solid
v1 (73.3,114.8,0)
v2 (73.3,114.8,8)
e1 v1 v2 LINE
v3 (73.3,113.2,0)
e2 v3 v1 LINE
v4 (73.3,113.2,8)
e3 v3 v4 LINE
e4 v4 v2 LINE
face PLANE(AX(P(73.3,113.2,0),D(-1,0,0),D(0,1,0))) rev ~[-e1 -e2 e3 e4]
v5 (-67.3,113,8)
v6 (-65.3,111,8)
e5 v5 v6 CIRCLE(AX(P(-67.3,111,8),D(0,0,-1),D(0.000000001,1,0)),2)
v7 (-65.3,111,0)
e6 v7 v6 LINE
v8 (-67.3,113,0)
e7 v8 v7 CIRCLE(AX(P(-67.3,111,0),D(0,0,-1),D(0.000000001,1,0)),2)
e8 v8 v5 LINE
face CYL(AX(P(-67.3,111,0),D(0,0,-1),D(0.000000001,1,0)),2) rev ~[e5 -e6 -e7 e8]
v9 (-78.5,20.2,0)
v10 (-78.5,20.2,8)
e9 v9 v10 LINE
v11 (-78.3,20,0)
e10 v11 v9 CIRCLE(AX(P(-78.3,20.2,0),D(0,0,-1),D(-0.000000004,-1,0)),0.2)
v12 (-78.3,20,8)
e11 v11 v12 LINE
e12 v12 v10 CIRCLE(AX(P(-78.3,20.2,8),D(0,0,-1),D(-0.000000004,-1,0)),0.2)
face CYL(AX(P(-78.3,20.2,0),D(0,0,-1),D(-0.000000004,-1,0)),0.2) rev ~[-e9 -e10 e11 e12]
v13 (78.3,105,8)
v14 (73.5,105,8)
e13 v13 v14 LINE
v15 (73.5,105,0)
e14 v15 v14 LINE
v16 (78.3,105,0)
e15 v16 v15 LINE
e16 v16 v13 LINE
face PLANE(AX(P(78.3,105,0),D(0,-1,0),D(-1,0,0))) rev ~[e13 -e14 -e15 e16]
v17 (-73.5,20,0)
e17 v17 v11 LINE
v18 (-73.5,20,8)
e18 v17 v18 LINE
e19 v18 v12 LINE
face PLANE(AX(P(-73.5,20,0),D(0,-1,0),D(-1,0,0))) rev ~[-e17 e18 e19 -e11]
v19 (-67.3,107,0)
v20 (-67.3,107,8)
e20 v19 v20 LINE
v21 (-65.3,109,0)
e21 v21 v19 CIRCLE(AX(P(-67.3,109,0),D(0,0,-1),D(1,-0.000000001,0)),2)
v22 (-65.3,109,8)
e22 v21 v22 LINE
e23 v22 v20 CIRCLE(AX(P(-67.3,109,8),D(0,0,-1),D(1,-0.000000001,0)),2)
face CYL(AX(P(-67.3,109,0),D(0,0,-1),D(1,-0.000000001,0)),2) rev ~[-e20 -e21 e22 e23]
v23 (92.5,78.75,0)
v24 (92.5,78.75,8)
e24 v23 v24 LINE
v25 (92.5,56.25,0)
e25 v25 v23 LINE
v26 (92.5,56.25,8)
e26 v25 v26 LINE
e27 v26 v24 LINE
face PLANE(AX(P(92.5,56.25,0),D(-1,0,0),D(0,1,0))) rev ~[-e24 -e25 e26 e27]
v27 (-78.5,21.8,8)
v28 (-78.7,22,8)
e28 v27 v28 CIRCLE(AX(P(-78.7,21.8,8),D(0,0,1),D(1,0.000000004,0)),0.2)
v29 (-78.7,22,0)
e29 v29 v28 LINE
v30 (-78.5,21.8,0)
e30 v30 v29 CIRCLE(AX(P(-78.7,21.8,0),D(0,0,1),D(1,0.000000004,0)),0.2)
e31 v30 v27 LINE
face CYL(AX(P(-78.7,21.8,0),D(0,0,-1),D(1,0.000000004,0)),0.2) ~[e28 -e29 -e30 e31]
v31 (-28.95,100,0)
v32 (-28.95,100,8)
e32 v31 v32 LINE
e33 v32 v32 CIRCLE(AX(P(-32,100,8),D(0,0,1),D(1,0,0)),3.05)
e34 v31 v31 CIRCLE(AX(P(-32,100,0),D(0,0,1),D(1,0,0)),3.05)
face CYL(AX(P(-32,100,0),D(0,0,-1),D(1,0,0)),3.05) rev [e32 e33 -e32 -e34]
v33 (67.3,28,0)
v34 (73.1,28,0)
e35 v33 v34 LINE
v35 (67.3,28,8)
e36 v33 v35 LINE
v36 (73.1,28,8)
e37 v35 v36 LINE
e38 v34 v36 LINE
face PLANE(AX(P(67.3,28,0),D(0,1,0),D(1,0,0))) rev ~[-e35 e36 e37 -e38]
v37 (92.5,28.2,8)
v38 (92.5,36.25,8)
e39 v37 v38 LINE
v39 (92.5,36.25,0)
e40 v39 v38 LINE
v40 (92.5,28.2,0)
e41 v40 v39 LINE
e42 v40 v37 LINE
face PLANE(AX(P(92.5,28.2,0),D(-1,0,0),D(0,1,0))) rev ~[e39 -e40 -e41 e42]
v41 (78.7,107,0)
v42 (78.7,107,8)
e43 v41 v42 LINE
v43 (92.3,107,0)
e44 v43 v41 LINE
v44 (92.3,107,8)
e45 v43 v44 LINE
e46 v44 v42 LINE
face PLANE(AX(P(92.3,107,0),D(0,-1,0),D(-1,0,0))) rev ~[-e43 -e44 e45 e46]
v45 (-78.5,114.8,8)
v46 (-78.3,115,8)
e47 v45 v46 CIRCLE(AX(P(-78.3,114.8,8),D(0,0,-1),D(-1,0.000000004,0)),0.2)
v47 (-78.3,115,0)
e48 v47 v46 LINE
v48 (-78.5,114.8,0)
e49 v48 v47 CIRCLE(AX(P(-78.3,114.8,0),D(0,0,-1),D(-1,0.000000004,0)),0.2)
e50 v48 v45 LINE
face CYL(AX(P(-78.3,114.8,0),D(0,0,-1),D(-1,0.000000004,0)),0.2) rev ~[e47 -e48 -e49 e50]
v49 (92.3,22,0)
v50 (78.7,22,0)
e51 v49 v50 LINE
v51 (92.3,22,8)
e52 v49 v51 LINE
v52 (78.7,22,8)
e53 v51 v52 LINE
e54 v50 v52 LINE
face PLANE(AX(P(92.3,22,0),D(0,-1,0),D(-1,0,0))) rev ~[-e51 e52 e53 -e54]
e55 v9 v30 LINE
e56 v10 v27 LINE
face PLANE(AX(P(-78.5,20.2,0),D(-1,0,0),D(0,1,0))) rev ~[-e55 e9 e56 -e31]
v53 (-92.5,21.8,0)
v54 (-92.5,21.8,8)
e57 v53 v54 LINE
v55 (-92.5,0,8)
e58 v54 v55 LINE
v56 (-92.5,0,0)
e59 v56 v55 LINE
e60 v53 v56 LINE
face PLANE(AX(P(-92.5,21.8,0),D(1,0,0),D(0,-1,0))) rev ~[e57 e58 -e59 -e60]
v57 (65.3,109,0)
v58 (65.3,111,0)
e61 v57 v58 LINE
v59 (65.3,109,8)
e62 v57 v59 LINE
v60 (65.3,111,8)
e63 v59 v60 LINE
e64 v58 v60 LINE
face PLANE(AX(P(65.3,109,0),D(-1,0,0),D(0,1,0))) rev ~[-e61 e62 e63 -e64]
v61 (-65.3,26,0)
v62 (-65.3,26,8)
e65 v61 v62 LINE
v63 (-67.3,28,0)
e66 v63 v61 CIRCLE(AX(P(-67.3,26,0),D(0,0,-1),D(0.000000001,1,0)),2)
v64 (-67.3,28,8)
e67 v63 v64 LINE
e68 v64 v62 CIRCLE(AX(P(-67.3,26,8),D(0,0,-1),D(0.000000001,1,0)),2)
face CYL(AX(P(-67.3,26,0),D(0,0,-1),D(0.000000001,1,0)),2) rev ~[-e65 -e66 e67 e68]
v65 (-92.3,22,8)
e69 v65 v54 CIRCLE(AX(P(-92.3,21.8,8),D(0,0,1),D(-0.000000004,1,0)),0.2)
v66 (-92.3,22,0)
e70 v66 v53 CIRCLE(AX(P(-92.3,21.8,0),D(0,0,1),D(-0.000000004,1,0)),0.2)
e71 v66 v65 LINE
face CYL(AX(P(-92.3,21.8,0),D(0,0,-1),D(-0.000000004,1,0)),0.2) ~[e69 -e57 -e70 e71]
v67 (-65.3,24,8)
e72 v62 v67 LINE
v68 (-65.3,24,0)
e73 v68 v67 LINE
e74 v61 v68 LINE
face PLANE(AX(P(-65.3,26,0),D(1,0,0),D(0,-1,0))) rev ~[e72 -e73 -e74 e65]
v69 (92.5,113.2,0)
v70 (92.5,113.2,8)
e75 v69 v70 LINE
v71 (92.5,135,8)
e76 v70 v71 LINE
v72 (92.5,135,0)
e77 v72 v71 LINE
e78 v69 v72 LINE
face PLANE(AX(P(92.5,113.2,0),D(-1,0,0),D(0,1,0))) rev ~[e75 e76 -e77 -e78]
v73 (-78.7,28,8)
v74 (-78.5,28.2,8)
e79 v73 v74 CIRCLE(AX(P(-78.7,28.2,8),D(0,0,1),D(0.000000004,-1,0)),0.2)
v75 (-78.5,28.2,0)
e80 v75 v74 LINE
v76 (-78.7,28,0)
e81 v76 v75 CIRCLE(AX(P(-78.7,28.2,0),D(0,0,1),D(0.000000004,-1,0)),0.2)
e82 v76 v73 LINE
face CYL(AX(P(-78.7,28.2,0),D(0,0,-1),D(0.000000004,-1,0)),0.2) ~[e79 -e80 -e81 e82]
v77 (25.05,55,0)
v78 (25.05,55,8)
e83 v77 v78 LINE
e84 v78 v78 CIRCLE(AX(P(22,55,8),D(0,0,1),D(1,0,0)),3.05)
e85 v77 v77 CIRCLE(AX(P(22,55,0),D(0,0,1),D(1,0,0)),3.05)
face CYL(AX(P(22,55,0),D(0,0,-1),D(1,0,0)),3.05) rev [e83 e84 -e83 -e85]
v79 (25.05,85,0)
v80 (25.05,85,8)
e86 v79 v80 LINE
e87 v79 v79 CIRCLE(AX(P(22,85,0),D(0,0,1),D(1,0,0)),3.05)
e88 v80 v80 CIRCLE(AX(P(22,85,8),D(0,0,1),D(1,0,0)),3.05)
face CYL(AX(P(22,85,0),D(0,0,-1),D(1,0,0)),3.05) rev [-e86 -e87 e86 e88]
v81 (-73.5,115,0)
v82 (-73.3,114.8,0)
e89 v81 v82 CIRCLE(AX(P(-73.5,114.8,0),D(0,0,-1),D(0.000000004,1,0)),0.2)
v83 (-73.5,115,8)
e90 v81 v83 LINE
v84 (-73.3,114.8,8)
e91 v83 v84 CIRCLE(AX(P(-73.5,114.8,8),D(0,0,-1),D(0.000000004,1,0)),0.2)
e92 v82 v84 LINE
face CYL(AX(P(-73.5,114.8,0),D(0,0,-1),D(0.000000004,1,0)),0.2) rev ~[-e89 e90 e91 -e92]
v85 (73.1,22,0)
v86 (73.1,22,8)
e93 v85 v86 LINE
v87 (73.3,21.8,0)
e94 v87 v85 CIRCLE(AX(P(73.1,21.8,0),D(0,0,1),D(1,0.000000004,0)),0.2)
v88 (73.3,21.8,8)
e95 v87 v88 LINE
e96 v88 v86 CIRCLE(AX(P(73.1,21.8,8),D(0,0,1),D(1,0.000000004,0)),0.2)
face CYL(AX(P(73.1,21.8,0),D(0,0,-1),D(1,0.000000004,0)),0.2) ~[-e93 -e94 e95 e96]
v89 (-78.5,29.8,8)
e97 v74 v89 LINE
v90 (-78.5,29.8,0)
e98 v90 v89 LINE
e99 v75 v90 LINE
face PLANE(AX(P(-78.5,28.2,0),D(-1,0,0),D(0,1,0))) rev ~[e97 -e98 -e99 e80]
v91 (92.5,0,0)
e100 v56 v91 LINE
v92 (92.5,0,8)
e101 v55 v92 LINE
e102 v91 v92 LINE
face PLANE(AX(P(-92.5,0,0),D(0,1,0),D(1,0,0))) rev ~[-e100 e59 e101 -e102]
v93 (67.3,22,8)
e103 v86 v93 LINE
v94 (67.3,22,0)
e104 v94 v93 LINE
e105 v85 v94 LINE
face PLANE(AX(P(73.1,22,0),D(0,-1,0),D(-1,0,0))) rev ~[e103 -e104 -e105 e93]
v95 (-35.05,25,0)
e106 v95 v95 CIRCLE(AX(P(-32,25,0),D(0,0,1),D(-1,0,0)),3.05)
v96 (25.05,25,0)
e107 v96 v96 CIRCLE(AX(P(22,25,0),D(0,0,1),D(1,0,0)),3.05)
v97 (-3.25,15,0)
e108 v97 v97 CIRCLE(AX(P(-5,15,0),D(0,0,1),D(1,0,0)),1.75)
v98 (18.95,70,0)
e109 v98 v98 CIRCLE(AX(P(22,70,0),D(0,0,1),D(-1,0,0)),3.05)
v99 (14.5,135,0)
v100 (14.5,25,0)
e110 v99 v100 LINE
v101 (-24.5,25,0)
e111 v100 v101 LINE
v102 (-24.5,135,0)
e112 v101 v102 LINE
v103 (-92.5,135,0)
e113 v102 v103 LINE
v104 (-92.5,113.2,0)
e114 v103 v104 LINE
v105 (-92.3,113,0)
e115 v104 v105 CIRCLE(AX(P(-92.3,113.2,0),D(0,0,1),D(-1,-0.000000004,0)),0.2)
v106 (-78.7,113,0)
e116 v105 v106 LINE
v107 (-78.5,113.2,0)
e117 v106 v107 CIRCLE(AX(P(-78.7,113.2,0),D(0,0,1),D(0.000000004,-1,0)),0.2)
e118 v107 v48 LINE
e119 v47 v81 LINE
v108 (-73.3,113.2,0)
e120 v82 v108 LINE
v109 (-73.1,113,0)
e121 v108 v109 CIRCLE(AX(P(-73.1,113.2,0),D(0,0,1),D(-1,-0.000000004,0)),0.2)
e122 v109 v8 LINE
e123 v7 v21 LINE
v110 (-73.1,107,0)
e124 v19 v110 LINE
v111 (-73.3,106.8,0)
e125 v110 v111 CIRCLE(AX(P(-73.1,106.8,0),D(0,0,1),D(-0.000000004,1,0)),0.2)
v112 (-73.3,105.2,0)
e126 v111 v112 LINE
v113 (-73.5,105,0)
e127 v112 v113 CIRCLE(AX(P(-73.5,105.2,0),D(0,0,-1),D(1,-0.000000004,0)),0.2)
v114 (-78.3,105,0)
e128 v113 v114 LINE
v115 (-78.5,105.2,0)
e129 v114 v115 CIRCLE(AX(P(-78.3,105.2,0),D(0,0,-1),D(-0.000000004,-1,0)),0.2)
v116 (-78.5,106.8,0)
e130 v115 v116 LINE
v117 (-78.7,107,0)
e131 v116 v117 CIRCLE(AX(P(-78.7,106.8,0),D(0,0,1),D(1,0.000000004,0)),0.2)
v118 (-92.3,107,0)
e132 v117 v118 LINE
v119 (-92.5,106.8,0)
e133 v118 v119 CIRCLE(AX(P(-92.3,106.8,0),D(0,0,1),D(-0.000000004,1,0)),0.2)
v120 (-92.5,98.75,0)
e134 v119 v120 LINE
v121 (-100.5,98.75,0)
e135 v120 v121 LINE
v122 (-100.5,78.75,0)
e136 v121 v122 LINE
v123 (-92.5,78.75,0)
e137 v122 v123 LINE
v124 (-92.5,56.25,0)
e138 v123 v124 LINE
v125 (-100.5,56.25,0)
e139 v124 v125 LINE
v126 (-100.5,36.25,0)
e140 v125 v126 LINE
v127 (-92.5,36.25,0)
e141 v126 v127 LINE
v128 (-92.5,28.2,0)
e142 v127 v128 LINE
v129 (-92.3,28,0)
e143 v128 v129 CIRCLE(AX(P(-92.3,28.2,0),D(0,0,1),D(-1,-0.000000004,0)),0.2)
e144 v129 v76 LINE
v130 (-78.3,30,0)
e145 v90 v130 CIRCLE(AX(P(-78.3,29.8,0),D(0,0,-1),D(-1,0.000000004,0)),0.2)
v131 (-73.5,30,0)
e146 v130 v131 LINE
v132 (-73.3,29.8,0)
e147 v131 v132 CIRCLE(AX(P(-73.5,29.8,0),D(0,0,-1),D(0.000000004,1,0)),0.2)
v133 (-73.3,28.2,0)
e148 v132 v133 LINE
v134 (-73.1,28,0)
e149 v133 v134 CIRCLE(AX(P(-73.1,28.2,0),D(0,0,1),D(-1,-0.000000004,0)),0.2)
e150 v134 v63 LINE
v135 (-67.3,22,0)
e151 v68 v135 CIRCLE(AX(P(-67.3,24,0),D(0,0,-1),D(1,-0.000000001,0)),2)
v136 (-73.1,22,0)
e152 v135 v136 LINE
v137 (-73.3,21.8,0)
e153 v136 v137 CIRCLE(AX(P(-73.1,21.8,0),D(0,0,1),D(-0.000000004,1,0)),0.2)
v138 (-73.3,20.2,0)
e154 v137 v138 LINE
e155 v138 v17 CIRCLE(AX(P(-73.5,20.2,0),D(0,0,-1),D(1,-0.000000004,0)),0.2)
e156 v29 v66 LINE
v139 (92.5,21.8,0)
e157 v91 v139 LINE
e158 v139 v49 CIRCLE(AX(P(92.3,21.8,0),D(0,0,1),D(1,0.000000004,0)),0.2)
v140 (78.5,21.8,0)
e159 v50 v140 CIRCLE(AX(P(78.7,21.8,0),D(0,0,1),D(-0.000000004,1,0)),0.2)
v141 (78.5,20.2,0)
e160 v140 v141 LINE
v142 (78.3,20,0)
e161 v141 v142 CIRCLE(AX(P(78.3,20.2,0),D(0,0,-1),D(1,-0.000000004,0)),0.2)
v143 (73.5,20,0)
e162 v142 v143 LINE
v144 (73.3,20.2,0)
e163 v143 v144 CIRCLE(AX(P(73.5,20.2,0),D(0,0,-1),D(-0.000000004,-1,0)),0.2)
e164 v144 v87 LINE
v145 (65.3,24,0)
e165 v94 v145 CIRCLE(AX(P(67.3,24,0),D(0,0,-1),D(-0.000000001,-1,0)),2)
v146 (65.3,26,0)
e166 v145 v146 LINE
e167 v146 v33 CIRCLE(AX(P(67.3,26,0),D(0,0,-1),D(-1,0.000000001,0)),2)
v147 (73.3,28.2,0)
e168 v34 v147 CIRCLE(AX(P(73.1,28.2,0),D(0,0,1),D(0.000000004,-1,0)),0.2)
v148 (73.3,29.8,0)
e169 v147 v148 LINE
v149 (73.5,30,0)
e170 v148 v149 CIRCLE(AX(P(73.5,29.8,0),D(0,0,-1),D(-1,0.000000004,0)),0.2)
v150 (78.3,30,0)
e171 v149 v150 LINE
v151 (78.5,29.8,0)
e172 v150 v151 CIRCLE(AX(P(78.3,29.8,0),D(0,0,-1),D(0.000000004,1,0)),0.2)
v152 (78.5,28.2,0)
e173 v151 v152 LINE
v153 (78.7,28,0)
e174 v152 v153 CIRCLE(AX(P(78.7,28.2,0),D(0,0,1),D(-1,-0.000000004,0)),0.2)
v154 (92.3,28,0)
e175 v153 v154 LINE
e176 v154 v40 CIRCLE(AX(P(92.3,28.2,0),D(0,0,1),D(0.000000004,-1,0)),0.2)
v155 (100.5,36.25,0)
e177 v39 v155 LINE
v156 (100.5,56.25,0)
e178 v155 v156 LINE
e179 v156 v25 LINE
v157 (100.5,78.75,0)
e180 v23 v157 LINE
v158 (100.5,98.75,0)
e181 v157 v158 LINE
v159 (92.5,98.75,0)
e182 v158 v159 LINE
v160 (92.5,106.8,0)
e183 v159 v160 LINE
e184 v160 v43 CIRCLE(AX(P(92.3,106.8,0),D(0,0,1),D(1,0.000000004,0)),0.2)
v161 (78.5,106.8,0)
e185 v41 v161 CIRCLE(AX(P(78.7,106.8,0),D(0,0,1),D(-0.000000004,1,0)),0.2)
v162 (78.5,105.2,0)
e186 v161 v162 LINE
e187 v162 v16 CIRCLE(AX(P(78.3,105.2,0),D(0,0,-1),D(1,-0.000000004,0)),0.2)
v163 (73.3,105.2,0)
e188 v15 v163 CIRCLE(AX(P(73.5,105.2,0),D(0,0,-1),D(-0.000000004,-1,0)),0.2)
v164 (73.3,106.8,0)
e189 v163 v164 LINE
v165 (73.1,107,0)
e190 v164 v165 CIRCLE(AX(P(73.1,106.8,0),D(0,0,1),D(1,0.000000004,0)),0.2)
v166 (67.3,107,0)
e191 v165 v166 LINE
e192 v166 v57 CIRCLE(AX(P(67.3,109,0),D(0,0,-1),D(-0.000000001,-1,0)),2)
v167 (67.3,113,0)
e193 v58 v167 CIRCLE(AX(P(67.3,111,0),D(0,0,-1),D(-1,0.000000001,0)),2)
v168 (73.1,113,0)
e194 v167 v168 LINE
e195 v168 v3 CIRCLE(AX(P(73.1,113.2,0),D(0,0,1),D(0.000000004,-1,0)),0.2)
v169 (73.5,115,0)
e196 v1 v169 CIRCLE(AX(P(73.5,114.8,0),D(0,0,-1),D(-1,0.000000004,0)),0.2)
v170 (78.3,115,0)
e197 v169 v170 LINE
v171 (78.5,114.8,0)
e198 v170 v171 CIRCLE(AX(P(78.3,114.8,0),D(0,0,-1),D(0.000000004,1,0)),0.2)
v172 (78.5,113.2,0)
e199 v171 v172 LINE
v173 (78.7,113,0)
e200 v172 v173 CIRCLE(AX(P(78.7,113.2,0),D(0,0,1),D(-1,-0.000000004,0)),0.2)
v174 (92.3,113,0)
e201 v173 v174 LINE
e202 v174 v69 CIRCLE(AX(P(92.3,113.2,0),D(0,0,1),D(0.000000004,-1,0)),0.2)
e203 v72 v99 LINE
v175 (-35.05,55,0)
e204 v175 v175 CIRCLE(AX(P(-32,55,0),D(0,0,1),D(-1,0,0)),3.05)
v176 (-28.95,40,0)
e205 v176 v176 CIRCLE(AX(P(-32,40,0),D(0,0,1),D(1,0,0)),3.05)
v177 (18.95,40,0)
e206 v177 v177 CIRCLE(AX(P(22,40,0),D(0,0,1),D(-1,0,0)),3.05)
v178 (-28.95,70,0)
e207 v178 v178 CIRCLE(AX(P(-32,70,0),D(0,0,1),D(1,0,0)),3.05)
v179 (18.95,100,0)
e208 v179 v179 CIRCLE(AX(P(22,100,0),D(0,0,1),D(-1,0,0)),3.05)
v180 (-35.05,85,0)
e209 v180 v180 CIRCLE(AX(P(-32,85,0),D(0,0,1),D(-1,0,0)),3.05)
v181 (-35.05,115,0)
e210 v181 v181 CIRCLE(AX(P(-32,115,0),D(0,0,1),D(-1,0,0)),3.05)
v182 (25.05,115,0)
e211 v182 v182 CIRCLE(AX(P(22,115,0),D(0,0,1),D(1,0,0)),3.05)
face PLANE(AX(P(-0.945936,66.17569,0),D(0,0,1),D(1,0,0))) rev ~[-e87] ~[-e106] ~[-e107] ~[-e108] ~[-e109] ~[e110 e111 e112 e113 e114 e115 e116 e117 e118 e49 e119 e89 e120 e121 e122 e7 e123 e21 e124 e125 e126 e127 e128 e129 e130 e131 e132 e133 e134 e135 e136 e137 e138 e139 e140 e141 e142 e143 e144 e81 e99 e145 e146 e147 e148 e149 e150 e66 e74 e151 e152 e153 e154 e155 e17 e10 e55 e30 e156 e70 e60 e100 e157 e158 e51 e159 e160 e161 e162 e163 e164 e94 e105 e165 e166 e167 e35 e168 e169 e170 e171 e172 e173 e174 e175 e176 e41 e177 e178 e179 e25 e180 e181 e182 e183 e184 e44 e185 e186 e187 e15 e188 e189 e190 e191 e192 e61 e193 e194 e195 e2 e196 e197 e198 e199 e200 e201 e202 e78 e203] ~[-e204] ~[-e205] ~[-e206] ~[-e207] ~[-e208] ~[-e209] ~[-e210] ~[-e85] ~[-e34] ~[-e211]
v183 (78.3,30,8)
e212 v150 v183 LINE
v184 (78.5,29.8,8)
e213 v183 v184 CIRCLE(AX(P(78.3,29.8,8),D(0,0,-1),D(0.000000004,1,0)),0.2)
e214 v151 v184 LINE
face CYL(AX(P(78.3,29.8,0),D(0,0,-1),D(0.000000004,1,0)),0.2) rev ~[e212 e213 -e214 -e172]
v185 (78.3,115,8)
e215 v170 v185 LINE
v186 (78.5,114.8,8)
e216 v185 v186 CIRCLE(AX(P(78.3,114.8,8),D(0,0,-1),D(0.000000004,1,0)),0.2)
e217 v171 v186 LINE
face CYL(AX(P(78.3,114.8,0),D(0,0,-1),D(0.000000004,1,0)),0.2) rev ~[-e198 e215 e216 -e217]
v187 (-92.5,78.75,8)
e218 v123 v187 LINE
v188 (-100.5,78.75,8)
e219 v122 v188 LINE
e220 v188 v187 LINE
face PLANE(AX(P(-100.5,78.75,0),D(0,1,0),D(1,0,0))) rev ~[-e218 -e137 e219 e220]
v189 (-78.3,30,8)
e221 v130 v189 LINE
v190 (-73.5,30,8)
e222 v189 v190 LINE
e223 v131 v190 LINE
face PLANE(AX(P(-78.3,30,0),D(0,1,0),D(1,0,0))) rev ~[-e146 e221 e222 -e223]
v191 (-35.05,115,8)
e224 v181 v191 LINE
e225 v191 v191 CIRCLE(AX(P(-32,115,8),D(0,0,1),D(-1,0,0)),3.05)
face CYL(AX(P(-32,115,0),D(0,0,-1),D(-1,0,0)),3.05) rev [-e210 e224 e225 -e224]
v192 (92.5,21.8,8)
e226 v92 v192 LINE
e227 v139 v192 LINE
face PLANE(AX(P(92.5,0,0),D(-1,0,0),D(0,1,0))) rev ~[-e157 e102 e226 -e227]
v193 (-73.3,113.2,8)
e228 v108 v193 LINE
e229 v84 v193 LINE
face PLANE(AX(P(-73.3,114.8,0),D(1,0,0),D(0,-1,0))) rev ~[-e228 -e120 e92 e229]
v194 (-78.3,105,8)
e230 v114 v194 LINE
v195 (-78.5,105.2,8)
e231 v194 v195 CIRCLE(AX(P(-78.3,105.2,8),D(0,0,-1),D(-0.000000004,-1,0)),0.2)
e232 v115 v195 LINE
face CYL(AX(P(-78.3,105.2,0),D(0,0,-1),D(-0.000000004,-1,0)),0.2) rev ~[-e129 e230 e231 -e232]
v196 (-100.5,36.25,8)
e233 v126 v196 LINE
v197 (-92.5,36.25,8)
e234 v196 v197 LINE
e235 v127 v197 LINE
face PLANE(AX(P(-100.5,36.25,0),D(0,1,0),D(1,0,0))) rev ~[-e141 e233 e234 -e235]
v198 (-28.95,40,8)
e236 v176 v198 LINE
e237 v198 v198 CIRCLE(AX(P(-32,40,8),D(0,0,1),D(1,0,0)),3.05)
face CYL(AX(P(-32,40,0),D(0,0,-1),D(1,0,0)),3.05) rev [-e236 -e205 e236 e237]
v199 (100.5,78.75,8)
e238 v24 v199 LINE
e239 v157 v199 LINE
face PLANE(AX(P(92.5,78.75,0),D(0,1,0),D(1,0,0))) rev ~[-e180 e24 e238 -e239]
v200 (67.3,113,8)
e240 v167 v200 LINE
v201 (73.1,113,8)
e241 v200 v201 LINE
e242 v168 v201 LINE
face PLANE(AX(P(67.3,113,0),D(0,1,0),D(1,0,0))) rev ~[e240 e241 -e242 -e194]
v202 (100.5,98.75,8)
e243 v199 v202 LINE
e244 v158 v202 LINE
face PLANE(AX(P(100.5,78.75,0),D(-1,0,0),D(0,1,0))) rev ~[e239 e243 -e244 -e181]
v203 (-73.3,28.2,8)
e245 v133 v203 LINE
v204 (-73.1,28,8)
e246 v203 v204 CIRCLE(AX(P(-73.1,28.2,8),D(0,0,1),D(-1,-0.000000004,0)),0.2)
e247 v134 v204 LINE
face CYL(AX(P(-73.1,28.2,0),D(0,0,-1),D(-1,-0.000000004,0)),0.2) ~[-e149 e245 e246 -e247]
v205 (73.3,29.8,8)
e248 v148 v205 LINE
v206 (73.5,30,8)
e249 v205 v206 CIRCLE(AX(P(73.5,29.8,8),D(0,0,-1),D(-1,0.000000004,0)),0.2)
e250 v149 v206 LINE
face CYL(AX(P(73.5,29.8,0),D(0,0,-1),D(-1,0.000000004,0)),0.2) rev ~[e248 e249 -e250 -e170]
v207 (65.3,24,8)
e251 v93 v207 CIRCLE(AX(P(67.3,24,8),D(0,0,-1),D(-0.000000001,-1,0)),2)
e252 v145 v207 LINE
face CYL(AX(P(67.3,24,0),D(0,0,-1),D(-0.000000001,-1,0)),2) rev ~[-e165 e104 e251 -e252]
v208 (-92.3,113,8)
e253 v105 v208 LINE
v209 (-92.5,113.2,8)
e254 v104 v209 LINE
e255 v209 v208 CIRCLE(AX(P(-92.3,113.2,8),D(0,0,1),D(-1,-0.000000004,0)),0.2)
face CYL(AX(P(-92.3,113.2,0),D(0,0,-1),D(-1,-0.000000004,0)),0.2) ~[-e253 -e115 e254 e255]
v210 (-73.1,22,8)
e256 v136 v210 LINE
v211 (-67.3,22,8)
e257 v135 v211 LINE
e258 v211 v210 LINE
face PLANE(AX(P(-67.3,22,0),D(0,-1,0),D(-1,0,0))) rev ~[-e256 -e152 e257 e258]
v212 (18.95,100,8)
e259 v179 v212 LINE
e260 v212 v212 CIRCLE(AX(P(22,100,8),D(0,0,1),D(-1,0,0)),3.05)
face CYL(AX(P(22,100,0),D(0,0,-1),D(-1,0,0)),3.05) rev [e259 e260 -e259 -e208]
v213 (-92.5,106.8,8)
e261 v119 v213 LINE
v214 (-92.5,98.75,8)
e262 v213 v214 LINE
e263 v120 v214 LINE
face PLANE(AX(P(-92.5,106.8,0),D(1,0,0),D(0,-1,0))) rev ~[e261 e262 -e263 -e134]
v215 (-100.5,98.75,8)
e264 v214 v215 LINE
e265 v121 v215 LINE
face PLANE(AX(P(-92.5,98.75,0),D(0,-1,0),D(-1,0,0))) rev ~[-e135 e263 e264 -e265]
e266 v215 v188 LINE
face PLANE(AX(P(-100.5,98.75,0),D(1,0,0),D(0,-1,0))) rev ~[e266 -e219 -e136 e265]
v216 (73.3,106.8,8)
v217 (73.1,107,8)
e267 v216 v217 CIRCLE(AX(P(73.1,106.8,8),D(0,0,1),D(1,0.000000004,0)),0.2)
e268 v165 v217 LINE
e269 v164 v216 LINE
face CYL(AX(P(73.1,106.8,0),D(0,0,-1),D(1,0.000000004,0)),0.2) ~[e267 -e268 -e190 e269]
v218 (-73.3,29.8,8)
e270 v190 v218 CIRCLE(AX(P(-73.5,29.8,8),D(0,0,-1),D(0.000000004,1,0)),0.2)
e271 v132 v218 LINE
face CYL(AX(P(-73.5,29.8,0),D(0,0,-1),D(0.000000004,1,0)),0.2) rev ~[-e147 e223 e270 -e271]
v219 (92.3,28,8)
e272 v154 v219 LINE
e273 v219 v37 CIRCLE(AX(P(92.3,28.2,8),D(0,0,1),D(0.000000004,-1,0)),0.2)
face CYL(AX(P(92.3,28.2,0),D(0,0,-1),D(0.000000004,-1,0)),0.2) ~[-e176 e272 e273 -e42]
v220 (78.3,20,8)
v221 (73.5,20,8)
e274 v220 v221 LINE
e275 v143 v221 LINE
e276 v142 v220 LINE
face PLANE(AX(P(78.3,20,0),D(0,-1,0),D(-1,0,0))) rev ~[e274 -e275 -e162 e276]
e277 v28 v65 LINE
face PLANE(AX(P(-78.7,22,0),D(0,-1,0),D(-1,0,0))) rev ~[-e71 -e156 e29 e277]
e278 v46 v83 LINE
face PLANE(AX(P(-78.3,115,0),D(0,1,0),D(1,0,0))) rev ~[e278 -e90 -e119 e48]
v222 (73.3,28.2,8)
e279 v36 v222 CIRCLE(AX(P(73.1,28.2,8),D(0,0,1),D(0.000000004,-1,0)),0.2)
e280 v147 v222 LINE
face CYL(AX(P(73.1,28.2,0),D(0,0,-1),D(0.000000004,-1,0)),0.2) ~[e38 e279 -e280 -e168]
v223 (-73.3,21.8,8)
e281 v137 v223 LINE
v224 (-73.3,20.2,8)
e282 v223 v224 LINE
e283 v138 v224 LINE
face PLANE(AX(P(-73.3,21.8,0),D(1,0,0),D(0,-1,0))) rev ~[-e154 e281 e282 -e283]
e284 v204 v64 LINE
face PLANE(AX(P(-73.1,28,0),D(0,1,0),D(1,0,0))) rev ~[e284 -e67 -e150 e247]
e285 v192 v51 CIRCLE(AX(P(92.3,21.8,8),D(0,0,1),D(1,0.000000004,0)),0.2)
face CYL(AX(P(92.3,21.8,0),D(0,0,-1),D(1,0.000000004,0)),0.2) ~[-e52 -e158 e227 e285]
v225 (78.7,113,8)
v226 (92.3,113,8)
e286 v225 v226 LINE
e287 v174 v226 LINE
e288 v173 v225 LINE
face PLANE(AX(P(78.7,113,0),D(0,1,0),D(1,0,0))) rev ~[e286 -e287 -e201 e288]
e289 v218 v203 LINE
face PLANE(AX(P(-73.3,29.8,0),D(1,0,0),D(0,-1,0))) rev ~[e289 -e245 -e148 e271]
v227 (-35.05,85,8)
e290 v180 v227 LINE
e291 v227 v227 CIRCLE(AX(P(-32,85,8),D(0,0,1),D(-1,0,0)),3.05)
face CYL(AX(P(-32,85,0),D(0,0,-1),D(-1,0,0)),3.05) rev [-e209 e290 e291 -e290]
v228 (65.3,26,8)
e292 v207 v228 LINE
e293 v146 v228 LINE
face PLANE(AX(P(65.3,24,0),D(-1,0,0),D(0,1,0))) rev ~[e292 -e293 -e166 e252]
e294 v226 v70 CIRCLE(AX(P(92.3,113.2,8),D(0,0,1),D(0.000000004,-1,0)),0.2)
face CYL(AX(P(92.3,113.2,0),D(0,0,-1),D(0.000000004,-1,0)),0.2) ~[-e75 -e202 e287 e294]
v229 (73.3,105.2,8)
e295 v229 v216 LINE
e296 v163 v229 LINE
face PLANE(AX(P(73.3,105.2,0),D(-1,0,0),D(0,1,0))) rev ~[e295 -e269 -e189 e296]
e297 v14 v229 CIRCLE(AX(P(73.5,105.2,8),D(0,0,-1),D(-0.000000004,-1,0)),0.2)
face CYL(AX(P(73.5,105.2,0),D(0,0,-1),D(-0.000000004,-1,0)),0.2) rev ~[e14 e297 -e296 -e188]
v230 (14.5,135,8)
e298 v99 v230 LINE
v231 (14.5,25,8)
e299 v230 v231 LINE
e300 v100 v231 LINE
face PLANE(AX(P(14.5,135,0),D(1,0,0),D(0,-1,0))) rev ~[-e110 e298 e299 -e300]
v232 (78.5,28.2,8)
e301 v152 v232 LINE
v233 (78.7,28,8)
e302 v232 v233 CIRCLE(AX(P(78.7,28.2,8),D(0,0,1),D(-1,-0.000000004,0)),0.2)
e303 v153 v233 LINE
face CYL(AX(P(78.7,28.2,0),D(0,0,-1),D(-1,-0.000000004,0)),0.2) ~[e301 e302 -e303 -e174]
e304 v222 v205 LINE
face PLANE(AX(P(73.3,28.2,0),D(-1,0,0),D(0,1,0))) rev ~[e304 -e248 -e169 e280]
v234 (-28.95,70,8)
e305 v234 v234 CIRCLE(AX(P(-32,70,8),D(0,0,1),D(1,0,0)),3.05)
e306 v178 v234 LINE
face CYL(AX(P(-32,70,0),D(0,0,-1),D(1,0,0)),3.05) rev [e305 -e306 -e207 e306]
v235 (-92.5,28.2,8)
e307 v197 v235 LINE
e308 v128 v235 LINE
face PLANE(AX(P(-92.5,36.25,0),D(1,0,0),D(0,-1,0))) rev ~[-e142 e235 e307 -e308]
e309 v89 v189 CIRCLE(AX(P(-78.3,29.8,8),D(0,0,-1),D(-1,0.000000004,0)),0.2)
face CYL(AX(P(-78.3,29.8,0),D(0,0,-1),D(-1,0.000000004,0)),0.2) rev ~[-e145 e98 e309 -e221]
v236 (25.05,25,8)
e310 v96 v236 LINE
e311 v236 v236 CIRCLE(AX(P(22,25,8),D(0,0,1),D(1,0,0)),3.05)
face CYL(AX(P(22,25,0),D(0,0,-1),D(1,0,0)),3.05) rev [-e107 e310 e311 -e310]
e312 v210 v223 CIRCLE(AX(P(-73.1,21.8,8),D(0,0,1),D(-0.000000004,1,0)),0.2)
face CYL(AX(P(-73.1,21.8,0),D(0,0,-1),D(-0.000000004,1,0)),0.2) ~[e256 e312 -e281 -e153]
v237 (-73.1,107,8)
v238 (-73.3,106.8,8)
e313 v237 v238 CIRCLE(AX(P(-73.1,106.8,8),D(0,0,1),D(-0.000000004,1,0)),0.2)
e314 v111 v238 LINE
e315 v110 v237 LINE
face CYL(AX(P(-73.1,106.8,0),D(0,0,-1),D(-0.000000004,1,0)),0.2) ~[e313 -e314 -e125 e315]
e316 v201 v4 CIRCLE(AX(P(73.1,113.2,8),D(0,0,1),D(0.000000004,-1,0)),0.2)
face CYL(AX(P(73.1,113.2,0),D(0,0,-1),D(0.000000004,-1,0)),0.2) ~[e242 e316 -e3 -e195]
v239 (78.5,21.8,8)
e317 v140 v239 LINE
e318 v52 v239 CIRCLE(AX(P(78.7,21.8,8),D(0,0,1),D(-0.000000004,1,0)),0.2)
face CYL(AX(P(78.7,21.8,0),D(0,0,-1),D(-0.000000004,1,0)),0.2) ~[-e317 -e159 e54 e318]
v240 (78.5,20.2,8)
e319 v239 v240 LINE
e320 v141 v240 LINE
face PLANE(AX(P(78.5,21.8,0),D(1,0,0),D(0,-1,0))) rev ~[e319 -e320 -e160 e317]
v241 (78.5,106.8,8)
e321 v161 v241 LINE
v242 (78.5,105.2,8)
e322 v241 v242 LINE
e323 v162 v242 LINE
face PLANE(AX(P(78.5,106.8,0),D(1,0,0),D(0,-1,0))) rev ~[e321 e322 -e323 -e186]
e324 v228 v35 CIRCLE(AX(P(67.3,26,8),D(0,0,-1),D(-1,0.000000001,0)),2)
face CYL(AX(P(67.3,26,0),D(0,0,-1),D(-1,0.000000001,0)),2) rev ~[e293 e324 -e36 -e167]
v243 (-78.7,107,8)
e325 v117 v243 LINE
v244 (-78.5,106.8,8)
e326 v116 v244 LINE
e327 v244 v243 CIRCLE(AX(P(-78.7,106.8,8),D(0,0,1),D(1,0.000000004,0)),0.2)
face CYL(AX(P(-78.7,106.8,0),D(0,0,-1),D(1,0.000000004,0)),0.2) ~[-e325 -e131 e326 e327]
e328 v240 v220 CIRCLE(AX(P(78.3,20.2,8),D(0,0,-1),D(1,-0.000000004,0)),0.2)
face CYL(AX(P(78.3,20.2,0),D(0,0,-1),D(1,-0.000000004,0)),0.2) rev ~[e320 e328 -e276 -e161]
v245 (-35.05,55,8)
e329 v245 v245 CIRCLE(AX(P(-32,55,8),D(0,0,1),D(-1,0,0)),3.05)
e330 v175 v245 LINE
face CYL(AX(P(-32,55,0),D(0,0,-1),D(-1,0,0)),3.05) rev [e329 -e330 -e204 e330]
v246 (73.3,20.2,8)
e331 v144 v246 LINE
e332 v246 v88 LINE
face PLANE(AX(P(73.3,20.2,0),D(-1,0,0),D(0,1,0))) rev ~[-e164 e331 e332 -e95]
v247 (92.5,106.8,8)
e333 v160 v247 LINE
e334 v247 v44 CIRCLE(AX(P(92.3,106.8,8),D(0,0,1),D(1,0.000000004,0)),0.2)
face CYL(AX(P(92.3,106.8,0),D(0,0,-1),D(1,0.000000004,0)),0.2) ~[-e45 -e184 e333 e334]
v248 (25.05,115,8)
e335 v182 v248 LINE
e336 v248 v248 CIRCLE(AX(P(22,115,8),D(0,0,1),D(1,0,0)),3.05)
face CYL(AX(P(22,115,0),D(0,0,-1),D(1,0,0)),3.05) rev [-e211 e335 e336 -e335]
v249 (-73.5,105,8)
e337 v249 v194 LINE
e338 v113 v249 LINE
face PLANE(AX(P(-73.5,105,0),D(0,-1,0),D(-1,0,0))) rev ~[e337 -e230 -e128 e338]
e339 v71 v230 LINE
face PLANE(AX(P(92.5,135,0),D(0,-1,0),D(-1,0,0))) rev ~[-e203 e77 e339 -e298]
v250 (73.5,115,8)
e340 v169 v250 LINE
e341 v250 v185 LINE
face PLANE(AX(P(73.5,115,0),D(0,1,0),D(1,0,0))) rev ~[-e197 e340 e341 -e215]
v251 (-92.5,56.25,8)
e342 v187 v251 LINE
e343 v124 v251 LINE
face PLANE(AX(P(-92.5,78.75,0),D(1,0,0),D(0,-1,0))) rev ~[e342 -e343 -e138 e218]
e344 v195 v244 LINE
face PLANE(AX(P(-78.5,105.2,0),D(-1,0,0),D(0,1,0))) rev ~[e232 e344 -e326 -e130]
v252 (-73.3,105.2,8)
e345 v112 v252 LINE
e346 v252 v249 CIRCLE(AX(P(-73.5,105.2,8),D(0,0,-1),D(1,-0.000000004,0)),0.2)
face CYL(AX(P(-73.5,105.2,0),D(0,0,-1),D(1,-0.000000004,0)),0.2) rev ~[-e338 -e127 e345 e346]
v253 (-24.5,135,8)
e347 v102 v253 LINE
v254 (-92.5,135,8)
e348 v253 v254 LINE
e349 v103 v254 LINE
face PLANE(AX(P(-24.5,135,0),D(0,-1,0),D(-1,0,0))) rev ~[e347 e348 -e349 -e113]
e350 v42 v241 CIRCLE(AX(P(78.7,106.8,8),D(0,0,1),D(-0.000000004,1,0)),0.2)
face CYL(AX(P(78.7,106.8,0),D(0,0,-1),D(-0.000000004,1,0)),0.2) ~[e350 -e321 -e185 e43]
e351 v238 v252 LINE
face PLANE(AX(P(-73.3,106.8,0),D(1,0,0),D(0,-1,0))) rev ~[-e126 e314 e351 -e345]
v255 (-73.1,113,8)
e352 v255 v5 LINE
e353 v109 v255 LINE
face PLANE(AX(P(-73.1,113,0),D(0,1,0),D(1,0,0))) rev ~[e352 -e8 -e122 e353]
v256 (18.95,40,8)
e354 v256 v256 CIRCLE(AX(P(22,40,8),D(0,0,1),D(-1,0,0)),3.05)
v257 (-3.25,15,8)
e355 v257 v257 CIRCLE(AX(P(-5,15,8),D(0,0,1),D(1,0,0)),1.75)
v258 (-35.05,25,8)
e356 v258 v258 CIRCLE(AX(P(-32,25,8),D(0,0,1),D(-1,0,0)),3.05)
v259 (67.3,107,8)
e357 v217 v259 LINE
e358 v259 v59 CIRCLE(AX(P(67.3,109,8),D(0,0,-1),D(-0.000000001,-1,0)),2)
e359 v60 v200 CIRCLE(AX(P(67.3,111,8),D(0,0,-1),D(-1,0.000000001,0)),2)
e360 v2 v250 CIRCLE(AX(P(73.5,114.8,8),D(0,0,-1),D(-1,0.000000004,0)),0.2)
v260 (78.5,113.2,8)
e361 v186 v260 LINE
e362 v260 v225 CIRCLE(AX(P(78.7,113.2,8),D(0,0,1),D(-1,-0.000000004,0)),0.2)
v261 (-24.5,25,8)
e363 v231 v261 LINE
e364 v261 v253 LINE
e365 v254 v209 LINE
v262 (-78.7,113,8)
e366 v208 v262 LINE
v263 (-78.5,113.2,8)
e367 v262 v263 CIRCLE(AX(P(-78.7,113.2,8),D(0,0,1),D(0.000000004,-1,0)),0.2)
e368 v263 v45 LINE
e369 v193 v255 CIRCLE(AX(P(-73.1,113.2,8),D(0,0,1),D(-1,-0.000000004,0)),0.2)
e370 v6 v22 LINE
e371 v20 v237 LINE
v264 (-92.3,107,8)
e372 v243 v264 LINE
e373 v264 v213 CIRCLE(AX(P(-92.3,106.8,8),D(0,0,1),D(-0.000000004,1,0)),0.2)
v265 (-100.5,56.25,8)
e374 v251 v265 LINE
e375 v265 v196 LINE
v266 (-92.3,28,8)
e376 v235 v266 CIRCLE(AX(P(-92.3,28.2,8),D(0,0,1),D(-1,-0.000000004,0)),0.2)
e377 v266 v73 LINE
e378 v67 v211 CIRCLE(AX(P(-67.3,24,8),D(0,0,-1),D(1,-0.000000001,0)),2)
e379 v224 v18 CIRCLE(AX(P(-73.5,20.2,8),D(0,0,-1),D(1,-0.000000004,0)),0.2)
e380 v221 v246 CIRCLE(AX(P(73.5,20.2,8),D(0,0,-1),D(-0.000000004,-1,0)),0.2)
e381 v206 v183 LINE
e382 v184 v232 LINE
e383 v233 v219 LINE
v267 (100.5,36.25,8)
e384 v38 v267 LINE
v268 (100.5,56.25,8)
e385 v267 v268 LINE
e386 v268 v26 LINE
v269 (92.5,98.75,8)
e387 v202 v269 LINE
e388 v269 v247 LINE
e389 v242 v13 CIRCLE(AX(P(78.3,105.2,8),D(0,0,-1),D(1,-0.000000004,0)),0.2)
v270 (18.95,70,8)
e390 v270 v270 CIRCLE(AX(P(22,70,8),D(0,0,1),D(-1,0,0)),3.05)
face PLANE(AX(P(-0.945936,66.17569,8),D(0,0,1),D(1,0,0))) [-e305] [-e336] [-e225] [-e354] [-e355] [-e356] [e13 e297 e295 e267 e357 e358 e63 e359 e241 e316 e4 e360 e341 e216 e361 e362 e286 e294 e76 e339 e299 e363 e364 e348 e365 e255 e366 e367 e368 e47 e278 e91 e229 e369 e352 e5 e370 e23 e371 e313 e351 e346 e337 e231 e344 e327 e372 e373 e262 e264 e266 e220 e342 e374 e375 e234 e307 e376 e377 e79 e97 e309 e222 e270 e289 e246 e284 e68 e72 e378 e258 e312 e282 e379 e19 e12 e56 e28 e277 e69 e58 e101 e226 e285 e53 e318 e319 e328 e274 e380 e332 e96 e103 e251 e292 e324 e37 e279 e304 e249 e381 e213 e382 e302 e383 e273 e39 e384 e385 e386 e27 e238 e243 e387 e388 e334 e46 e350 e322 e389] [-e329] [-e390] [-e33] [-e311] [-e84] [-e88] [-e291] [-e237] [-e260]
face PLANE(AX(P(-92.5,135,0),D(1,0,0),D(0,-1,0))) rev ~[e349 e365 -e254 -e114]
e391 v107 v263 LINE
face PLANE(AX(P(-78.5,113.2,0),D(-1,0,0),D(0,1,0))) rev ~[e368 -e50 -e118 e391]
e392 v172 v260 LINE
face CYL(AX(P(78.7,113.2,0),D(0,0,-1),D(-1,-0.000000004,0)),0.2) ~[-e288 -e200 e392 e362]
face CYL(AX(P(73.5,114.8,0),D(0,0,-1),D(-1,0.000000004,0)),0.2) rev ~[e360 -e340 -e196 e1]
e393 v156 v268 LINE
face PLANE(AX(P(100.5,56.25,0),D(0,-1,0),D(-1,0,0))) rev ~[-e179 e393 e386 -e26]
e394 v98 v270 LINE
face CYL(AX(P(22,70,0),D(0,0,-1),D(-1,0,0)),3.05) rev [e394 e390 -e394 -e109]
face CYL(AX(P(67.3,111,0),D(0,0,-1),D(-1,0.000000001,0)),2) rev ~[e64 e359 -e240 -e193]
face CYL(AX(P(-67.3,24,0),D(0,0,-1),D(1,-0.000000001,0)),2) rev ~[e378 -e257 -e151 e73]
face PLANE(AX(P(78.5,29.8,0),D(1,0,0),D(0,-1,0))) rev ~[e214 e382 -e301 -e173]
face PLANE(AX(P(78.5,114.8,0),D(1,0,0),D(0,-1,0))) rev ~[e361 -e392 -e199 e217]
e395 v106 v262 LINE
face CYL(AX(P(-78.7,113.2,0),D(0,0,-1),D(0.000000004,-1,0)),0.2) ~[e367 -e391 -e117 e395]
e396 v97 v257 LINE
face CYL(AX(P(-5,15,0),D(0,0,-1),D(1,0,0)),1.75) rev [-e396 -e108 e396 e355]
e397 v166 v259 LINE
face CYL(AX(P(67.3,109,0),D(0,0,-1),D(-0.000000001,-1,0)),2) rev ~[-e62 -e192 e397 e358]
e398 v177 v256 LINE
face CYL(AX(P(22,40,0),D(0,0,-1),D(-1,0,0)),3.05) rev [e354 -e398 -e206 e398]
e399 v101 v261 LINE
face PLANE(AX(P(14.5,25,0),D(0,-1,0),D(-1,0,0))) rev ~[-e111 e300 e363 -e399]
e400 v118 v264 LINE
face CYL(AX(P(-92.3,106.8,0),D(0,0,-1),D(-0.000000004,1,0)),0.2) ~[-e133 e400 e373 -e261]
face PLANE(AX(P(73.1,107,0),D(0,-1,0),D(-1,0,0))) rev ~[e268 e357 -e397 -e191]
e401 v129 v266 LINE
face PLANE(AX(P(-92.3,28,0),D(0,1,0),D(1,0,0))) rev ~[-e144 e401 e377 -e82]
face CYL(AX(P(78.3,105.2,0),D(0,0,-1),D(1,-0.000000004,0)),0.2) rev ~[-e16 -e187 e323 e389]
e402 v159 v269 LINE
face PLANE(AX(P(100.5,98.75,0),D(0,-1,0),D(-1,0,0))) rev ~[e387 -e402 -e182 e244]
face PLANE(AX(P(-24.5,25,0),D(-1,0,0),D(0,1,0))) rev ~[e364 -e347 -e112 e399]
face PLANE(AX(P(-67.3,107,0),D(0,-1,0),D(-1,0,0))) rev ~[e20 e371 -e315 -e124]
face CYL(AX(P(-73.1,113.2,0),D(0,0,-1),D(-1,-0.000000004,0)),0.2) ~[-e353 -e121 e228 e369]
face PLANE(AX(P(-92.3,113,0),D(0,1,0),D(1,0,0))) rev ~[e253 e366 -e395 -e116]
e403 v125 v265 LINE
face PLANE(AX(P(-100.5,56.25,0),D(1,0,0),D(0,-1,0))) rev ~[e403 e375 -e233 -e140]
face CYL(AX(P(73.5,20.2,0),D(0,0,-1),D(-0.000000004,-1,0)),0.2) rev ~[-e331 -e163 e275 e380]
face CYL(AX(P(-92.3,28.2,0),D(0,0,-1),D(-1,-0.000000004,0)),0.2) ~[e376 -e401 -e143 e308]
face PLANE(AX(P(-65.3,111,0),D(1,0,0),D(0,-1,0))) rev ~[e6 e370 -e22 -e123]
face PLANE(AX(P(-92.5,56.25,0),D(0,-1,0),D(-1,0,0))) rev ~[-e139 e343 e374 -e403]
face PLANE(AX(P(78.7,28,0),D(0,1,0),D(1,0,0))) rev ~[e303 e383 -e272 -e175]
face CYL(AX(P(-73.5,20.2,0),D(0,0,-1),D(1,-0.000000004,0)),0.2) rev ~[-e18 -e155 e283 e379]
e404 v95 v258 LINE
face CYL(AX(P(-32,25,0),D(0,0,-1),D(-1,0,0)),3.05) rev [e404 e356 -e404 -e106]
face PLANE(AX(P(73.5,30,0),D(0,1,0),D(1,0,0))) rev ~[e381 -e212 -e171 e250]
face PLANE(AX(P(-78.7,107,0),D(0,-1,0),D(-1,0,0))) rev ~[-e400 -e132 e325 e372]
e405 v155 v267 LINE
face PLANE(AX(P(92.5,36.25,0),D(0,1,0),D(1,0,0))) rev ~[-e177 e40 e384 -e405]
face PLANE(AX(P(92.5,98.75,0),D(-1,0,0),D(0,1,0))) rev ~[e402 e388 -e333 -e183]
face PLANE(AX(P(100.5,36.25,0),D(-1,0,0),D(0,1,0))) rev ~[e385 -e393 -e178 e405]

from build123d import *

# Parameters (mm, degrees)
MODEL_R             = 3.05
MODEL_R_2           = 1.75
BOSS_EXTRUDE2_DEPTH = 8


with BuildPart() as part:
    # Model → Boss-Extrude2 (new body)
    with BuildSketch(Plane.XY):
        with BuildLine():
            Line((-92.5, 21.8), (-92.5, 2))
            Line((-92.5, 2), (-92.5, 0))
            Line((-92.5, 0), (-90.5, 0))
            Line((-90.5, 0), (90.5, 0))
            Line((90.5, 0), (92.5, 0))
            Line((92.5, 0), (92.5, 2))
            Line((92.5, 2), (92.5, 21.8))
            ThreePointArc((92.5, 21.8), (92.441421356, 21.941421356), (92.3, 22))
            Line((92.3, 22), (78.7, 22))
            ThreePointArc((78.7, 22), (78.558578644, 21.941421356), (78.5, 21.8))
            Line((78.5, 21.8), (78.5, 20.2))
            ThreePointArc((78.5, 20.2), (78.441421356, 20.058578644), (78.3, 20))
            Line((78.3, 20), (73.5, 20))
            ThreePointArc((73.5, 20), (73.358578644, 20.058578644), (73.3, 20.2))
            Line((73.3, 20.2), (73.3, 21.8))
            ThreePointArc((73.3, 21.8), (73.241421356, 21.941421356), (73.1, 22))
            Line((73.1, 22), (67.3, 22))
            ThreePointArc((67.3, 22), (65.885786438, 22.585786438), (65.3, 24))
            Line((65.3, 24), (65.3, 26))
            ThreePointArc((65.3, 26), (65.885786438, 27.414213562), (67.3, 28))
            Line((67.3, 28), (73.1, 28))
            ThreePointArc((73.1, 28), (73.241421356, 28.058578644), (73.3, 28.2))
            Line((73.3, 28.2), (73.3, 29.8))
            ThreePointArc((73.3, 29.8), (73.358578644, 29.941421356), (73.5, 30))
            Line((73.5, 30), (78.3, 30))
            ThreePointArc((78.3, 30), (78.441421356, 29.941421356), (78.5, 29.8))
            Line((78.5, 29.8), (78.5, 28.2))
            ThreePointArc((78.5, 28.2), (78.558578644, 28.058578644), (78.7, 28))
            Line((78.7, 28), (92.3, 28))
            ThreePointArc((92.3, 28), (92.441421356, 28.058578644), (92.5, 28.2))
            Line((92.5, 28.2), (92.5, 36.25))
            Line((92.5, 36.25), (100.5, 36.25))
            Line((100.5, 36.25), (100.5, 56.25))
            Line((100.5, 56.25), (92.5, 56.25))
            Line((92.5, 56.25), (92.5, 78.75))
            Line((92.5, 78.75), (100.5, 78.75))
            Line((100.5, 78.75), (100.5, 98.75))
            Line((100.5, 98.75), (92.5, 98.75))
            Line((92.5, 98.75), (92.5, 106.8))
            ThreePointArc((92.5, 106.8), (92.441421356, 106.941421356), (92.3, 107))
            Line((92.3, 107), (78.7, 107))
            ThreePointArc((78.7, 107), (78.558578644, 106.941421356), (78.5, 106.8))
            Line((78.5, 106.8), (78.5, 105.2))
            ThreePointArc((78.5, 105.2), (78.441421356, 105.058578644), (78.3, 105))
            Line((78.3, 105), (73.5, 105))
            ThreePointArc((73.5, 105), (73.358578644, 105.058578644), (73.3, 105.2))
            Line((73.3, 105.2), (73.3, 106.8))
            ThreePointArc((73.3, 106.8), (73.241421356, 106.941421356), (73.1, 107))
            Line((73.1, 107), (67.3, 107))
            ThreePointArc((67.3, 107), (65.885786438, 107.585786438), (65.3, 109))
            Line((65.3, 109), (65.3, 111))
            ThreePointArc((65.3, 111), (65.885786438, 112.414213562), (67.3, 113))
            Line((67.3, 113), (73.1, 113))
            ThreePointArc((73.1, 113), (73.241421356, 113.058578644), (73.3, 113.2))
            Line((73.3, 113.2), (73.3, 114.8))
            ThreePointArc((73.3, 114.8), (73.358578644, 114.941421356), (73.5, 115))
            Line((73.5, 115), (78.3, 115))
            ThreePointArc((78.3, 115), (78.441421356, 114.941421356), (78.5, 114.8))
            Line((78.5, 114.8), (78.5, 113.2))
            ThreePointArc((78.5, 113.2), (78.558578644, 113.058578644), (78.7, 113))
            Line((78.7, 113), (92.3, 113))
            ThreePointArc((92.3, 113), (92.441421356, 113.058578644), (92.5, 113.2))
            Line((92.5, 113.2), (92.5, 133))
            Line((92.5, 133), (92.5, 135))
            Line((92.5, 135), (90.5, 135))
            Line((90.5, 135), (14.5, 135))
            Line((14.5, 135), (14.5, 25))
            Line((14.5, 25), (-24.5, 25))
            Line((-24.5, 25), (-24.5, 135))
            Line((-24.5, 135), (-90.5, 135))
            Line((-90.5, 135), (-92.5, 135))
            Line((-92.5, 135), (-92.5, 133))
            Line((-92.5, 133), (-92.5, 113.2))
            ThreePointArc((-92.5, 113.2), (-92.441421356, 113.058578644), (-92.3, 113))
            Line((-92.3, 113), (-78.7, 113))
            ThreePointArc((-78.7, 113), (-78.558578644, 113.058578644), (-78.5, 113.2))
            Line((-78.5, 113.2), (-78.5, 114.8))
            ThreePointArc((-78.5, 114.8), (-78.441421356, 114.941421356), (-78.3, 115))
            Line((-78.3, 115), (-73.5, 115))
            ThreePointArc((-73.5, 115), (-73.358578644, 114.941421356), (-73.3, 114.8))
            Line((-73.3, 114.8), (-73.3, 113.2))
            ThreePointArc((-73.3, 113.2), (-73.241421356, 113.058578644), (-73.1, 113))
            Line((-73.1, 113), (-67.3, 113))
            ThreePointArc((-67.3, 113), (-65.885786438, 112.414213562), (-65.3, 111))
            Line((-65.3, 111), (-65.3, 109))
            ThreePointArc((-65.3, 109), (-65.885786438, 107.585786438), (-67.3, 107))
            Line((-67.3, 107), (-73.1, 107))
            ThreePointArc((-73.1, 107), (-73.241421356, 106.941421356), (-73.3, 106.8))
            Line((-73.3, 106.8), (-73.3, 105.2))
            ThreePointArc((-73.3, 105.2), (-73.358578644, 105.058578644), (-73.5, 105))
            Line((-73.5, 105), (-78.3, 105))
            ThreePointArc((-78.3, 105), (-78.441421356, 105.058578644), (-78.5, 105.2))
            Line((-78.5, 105.2), (-78.5, 106.8))
            ThreePointArc((-78.5, 106.8), (-78.558578644, 106.941421356), (-78.7, 107))
            Line((-78.7, 107), (-92.3, 107))
            ThreePointArc((-92.3, 107), (-92.441421356, 106.941421356), (-92.5, 106.8))
            Line((-92.5, 106.8), (-92.5, 98.75))
            Line((-92.5, 98.75), (-100.5, 98.75))
            Line((-100.5, 98.75), (-100.5, 78.75))
            Line((-100.5, 78.75), (-92.5, 78.75))
            Line((-92.5, 78.75), (-92.5, 56.25))
            Line((-92.5, 56.25), (-100.5, 56.25))
            Line((-100.5, 56.25), (-100.5, 36.25))
            Line((-100.5, 36.25), (-92.5, 36.25))
            Line((-92.5, 36.25), (-92.5, 28.2))
            ThreePointArc((-92.5, 28.2), (-92.441421356, 28.058578644), (-92.3, 28))
            Line((-92.3, 28), (-78.7, 28))
            ThreePointArc((-78.7, 28), (-78.558578644, 28.058578644), (-78.5, 28.2))
            Line((-78.5, 28.2), (-78.5, 29.8))
            ThreePointArc((-78.5, 29.8), (-78.441421356, 29.941421356), (-78.3, 30))
            Line((-78.3, 30), (-73.5, 30))
            ThreePointArc((-73.5, 30), (-73.358578644, 29.941421356), (-73.3, 29.8))
            Line((-73.3, 29.8), (-73.3, 28.2))
            ThreePointArc((-73.3, 28.2), (-73.241421356, 28.058578644), (-73.1, 28))
            Line((-73.1, 28), (-67.3, 28))
            ThreePointArc((-67.3, 28), (-65.885786438, 27.414213562), (-65.3, 26))
            Line((-65.3, 26), (-65.3, 24))
            ThreePointArc((-65.3, 24), (-65.885786438, 22.585786438), (-67.3, 22))
            Line((-67.3, 22), (-73.1, 22))
            ThreePointArc((-73.1, 22), (-73.241421356, 21.941421356), (-73.3, 21.8))
            Line((-73.3, 21.8), (-73.3, 20.2))
            ThreePointArc((-73.3, 20.2), (-73.358578644, 20.058578644), (-73.5, 20))
            Line((-73.5, 20), (-78.3, 20))
            ThreePointArc((-78.3, 20), (-78.441421356, 20.058578644), (-78.5, 20.2))
            Line((-78.5, 20.2), (-78.5, 21.8))
            ThreePointArc((-78.5, 21.8), (-78.558578644, 21.941421356), (-78.7, 22))
            Line((-78.7, 22), (-92.3, 22))
            ThreePointArc((-92.3, 22), (-92.441421356, 21.941421356), (-92.5, 21.8))
        make_face()
        with Locations(Location((-32, 55, 0), (0, 0, 180))):
            Circle(MODEL_R, mode=Mode.SUBTRACT)
        with Locations((-32, 70)):
            Circle(MODEL_R, mode=Mode.SUBTRACT)
        with Locations(Location((22, 100, 0), (0, 0, 180))):
            Circle(MODEL_R, mode=Mode.SUBTRACT)
        with Locations((22, 85)):
            Circle(MODEL_R, mode=Mode.SUBTRACT)
        with Locations((22, 25)):
            Circle(MODEL_R, mode=Mode.SUBTRACT)
        with Locations(Location((22, 40, 0), (0, 0, 180))):
            Circle(MODEL_R, mode=Mode.SUBTRACT)
        with Locations((-32, 40)):
            Circle(MODEL_R, mode=Mode.SUBTRACT)
        with Locations(Location((-32, 25, 0), (0, 0, 180))):
            Circle(MODEL_R, mode=Mode.SUBTRACT)
        with Locations(Location((22, 70, 0), (0, 0, 180))):
            Circle(MODEL_R, mode=Mode.SUBTRACT)
        with Locations((22, 55)):
            Circle(MODEL_R, mode=Mode.SUBTRACT)
        with Locations((22, 115)):
            Circle(MODEL_R, mode=Mode.SUBTRACT)
        with Locations(Location((-32, 115, 0), (0, 0, 180))):
            Circle(MODEL_R, mode=Mode.SUBTRACT)
        with Locations(Location((-32, 85, 0), (0, 0, 180))):
            Circle(MODEL_R, mode=Mode.SUBTRACT)
        with Locations((-32, 100)):
            Circle(MODEL_R, mode=Mode.SUBTRACT)
        with Locations((-5, 15)):
            Circle(MODEL_R_2, mode=Mode.SUBTRACT)
    extrude(amount=BOSS_EXTRUDE2_DEPTH)


solid = part.part
